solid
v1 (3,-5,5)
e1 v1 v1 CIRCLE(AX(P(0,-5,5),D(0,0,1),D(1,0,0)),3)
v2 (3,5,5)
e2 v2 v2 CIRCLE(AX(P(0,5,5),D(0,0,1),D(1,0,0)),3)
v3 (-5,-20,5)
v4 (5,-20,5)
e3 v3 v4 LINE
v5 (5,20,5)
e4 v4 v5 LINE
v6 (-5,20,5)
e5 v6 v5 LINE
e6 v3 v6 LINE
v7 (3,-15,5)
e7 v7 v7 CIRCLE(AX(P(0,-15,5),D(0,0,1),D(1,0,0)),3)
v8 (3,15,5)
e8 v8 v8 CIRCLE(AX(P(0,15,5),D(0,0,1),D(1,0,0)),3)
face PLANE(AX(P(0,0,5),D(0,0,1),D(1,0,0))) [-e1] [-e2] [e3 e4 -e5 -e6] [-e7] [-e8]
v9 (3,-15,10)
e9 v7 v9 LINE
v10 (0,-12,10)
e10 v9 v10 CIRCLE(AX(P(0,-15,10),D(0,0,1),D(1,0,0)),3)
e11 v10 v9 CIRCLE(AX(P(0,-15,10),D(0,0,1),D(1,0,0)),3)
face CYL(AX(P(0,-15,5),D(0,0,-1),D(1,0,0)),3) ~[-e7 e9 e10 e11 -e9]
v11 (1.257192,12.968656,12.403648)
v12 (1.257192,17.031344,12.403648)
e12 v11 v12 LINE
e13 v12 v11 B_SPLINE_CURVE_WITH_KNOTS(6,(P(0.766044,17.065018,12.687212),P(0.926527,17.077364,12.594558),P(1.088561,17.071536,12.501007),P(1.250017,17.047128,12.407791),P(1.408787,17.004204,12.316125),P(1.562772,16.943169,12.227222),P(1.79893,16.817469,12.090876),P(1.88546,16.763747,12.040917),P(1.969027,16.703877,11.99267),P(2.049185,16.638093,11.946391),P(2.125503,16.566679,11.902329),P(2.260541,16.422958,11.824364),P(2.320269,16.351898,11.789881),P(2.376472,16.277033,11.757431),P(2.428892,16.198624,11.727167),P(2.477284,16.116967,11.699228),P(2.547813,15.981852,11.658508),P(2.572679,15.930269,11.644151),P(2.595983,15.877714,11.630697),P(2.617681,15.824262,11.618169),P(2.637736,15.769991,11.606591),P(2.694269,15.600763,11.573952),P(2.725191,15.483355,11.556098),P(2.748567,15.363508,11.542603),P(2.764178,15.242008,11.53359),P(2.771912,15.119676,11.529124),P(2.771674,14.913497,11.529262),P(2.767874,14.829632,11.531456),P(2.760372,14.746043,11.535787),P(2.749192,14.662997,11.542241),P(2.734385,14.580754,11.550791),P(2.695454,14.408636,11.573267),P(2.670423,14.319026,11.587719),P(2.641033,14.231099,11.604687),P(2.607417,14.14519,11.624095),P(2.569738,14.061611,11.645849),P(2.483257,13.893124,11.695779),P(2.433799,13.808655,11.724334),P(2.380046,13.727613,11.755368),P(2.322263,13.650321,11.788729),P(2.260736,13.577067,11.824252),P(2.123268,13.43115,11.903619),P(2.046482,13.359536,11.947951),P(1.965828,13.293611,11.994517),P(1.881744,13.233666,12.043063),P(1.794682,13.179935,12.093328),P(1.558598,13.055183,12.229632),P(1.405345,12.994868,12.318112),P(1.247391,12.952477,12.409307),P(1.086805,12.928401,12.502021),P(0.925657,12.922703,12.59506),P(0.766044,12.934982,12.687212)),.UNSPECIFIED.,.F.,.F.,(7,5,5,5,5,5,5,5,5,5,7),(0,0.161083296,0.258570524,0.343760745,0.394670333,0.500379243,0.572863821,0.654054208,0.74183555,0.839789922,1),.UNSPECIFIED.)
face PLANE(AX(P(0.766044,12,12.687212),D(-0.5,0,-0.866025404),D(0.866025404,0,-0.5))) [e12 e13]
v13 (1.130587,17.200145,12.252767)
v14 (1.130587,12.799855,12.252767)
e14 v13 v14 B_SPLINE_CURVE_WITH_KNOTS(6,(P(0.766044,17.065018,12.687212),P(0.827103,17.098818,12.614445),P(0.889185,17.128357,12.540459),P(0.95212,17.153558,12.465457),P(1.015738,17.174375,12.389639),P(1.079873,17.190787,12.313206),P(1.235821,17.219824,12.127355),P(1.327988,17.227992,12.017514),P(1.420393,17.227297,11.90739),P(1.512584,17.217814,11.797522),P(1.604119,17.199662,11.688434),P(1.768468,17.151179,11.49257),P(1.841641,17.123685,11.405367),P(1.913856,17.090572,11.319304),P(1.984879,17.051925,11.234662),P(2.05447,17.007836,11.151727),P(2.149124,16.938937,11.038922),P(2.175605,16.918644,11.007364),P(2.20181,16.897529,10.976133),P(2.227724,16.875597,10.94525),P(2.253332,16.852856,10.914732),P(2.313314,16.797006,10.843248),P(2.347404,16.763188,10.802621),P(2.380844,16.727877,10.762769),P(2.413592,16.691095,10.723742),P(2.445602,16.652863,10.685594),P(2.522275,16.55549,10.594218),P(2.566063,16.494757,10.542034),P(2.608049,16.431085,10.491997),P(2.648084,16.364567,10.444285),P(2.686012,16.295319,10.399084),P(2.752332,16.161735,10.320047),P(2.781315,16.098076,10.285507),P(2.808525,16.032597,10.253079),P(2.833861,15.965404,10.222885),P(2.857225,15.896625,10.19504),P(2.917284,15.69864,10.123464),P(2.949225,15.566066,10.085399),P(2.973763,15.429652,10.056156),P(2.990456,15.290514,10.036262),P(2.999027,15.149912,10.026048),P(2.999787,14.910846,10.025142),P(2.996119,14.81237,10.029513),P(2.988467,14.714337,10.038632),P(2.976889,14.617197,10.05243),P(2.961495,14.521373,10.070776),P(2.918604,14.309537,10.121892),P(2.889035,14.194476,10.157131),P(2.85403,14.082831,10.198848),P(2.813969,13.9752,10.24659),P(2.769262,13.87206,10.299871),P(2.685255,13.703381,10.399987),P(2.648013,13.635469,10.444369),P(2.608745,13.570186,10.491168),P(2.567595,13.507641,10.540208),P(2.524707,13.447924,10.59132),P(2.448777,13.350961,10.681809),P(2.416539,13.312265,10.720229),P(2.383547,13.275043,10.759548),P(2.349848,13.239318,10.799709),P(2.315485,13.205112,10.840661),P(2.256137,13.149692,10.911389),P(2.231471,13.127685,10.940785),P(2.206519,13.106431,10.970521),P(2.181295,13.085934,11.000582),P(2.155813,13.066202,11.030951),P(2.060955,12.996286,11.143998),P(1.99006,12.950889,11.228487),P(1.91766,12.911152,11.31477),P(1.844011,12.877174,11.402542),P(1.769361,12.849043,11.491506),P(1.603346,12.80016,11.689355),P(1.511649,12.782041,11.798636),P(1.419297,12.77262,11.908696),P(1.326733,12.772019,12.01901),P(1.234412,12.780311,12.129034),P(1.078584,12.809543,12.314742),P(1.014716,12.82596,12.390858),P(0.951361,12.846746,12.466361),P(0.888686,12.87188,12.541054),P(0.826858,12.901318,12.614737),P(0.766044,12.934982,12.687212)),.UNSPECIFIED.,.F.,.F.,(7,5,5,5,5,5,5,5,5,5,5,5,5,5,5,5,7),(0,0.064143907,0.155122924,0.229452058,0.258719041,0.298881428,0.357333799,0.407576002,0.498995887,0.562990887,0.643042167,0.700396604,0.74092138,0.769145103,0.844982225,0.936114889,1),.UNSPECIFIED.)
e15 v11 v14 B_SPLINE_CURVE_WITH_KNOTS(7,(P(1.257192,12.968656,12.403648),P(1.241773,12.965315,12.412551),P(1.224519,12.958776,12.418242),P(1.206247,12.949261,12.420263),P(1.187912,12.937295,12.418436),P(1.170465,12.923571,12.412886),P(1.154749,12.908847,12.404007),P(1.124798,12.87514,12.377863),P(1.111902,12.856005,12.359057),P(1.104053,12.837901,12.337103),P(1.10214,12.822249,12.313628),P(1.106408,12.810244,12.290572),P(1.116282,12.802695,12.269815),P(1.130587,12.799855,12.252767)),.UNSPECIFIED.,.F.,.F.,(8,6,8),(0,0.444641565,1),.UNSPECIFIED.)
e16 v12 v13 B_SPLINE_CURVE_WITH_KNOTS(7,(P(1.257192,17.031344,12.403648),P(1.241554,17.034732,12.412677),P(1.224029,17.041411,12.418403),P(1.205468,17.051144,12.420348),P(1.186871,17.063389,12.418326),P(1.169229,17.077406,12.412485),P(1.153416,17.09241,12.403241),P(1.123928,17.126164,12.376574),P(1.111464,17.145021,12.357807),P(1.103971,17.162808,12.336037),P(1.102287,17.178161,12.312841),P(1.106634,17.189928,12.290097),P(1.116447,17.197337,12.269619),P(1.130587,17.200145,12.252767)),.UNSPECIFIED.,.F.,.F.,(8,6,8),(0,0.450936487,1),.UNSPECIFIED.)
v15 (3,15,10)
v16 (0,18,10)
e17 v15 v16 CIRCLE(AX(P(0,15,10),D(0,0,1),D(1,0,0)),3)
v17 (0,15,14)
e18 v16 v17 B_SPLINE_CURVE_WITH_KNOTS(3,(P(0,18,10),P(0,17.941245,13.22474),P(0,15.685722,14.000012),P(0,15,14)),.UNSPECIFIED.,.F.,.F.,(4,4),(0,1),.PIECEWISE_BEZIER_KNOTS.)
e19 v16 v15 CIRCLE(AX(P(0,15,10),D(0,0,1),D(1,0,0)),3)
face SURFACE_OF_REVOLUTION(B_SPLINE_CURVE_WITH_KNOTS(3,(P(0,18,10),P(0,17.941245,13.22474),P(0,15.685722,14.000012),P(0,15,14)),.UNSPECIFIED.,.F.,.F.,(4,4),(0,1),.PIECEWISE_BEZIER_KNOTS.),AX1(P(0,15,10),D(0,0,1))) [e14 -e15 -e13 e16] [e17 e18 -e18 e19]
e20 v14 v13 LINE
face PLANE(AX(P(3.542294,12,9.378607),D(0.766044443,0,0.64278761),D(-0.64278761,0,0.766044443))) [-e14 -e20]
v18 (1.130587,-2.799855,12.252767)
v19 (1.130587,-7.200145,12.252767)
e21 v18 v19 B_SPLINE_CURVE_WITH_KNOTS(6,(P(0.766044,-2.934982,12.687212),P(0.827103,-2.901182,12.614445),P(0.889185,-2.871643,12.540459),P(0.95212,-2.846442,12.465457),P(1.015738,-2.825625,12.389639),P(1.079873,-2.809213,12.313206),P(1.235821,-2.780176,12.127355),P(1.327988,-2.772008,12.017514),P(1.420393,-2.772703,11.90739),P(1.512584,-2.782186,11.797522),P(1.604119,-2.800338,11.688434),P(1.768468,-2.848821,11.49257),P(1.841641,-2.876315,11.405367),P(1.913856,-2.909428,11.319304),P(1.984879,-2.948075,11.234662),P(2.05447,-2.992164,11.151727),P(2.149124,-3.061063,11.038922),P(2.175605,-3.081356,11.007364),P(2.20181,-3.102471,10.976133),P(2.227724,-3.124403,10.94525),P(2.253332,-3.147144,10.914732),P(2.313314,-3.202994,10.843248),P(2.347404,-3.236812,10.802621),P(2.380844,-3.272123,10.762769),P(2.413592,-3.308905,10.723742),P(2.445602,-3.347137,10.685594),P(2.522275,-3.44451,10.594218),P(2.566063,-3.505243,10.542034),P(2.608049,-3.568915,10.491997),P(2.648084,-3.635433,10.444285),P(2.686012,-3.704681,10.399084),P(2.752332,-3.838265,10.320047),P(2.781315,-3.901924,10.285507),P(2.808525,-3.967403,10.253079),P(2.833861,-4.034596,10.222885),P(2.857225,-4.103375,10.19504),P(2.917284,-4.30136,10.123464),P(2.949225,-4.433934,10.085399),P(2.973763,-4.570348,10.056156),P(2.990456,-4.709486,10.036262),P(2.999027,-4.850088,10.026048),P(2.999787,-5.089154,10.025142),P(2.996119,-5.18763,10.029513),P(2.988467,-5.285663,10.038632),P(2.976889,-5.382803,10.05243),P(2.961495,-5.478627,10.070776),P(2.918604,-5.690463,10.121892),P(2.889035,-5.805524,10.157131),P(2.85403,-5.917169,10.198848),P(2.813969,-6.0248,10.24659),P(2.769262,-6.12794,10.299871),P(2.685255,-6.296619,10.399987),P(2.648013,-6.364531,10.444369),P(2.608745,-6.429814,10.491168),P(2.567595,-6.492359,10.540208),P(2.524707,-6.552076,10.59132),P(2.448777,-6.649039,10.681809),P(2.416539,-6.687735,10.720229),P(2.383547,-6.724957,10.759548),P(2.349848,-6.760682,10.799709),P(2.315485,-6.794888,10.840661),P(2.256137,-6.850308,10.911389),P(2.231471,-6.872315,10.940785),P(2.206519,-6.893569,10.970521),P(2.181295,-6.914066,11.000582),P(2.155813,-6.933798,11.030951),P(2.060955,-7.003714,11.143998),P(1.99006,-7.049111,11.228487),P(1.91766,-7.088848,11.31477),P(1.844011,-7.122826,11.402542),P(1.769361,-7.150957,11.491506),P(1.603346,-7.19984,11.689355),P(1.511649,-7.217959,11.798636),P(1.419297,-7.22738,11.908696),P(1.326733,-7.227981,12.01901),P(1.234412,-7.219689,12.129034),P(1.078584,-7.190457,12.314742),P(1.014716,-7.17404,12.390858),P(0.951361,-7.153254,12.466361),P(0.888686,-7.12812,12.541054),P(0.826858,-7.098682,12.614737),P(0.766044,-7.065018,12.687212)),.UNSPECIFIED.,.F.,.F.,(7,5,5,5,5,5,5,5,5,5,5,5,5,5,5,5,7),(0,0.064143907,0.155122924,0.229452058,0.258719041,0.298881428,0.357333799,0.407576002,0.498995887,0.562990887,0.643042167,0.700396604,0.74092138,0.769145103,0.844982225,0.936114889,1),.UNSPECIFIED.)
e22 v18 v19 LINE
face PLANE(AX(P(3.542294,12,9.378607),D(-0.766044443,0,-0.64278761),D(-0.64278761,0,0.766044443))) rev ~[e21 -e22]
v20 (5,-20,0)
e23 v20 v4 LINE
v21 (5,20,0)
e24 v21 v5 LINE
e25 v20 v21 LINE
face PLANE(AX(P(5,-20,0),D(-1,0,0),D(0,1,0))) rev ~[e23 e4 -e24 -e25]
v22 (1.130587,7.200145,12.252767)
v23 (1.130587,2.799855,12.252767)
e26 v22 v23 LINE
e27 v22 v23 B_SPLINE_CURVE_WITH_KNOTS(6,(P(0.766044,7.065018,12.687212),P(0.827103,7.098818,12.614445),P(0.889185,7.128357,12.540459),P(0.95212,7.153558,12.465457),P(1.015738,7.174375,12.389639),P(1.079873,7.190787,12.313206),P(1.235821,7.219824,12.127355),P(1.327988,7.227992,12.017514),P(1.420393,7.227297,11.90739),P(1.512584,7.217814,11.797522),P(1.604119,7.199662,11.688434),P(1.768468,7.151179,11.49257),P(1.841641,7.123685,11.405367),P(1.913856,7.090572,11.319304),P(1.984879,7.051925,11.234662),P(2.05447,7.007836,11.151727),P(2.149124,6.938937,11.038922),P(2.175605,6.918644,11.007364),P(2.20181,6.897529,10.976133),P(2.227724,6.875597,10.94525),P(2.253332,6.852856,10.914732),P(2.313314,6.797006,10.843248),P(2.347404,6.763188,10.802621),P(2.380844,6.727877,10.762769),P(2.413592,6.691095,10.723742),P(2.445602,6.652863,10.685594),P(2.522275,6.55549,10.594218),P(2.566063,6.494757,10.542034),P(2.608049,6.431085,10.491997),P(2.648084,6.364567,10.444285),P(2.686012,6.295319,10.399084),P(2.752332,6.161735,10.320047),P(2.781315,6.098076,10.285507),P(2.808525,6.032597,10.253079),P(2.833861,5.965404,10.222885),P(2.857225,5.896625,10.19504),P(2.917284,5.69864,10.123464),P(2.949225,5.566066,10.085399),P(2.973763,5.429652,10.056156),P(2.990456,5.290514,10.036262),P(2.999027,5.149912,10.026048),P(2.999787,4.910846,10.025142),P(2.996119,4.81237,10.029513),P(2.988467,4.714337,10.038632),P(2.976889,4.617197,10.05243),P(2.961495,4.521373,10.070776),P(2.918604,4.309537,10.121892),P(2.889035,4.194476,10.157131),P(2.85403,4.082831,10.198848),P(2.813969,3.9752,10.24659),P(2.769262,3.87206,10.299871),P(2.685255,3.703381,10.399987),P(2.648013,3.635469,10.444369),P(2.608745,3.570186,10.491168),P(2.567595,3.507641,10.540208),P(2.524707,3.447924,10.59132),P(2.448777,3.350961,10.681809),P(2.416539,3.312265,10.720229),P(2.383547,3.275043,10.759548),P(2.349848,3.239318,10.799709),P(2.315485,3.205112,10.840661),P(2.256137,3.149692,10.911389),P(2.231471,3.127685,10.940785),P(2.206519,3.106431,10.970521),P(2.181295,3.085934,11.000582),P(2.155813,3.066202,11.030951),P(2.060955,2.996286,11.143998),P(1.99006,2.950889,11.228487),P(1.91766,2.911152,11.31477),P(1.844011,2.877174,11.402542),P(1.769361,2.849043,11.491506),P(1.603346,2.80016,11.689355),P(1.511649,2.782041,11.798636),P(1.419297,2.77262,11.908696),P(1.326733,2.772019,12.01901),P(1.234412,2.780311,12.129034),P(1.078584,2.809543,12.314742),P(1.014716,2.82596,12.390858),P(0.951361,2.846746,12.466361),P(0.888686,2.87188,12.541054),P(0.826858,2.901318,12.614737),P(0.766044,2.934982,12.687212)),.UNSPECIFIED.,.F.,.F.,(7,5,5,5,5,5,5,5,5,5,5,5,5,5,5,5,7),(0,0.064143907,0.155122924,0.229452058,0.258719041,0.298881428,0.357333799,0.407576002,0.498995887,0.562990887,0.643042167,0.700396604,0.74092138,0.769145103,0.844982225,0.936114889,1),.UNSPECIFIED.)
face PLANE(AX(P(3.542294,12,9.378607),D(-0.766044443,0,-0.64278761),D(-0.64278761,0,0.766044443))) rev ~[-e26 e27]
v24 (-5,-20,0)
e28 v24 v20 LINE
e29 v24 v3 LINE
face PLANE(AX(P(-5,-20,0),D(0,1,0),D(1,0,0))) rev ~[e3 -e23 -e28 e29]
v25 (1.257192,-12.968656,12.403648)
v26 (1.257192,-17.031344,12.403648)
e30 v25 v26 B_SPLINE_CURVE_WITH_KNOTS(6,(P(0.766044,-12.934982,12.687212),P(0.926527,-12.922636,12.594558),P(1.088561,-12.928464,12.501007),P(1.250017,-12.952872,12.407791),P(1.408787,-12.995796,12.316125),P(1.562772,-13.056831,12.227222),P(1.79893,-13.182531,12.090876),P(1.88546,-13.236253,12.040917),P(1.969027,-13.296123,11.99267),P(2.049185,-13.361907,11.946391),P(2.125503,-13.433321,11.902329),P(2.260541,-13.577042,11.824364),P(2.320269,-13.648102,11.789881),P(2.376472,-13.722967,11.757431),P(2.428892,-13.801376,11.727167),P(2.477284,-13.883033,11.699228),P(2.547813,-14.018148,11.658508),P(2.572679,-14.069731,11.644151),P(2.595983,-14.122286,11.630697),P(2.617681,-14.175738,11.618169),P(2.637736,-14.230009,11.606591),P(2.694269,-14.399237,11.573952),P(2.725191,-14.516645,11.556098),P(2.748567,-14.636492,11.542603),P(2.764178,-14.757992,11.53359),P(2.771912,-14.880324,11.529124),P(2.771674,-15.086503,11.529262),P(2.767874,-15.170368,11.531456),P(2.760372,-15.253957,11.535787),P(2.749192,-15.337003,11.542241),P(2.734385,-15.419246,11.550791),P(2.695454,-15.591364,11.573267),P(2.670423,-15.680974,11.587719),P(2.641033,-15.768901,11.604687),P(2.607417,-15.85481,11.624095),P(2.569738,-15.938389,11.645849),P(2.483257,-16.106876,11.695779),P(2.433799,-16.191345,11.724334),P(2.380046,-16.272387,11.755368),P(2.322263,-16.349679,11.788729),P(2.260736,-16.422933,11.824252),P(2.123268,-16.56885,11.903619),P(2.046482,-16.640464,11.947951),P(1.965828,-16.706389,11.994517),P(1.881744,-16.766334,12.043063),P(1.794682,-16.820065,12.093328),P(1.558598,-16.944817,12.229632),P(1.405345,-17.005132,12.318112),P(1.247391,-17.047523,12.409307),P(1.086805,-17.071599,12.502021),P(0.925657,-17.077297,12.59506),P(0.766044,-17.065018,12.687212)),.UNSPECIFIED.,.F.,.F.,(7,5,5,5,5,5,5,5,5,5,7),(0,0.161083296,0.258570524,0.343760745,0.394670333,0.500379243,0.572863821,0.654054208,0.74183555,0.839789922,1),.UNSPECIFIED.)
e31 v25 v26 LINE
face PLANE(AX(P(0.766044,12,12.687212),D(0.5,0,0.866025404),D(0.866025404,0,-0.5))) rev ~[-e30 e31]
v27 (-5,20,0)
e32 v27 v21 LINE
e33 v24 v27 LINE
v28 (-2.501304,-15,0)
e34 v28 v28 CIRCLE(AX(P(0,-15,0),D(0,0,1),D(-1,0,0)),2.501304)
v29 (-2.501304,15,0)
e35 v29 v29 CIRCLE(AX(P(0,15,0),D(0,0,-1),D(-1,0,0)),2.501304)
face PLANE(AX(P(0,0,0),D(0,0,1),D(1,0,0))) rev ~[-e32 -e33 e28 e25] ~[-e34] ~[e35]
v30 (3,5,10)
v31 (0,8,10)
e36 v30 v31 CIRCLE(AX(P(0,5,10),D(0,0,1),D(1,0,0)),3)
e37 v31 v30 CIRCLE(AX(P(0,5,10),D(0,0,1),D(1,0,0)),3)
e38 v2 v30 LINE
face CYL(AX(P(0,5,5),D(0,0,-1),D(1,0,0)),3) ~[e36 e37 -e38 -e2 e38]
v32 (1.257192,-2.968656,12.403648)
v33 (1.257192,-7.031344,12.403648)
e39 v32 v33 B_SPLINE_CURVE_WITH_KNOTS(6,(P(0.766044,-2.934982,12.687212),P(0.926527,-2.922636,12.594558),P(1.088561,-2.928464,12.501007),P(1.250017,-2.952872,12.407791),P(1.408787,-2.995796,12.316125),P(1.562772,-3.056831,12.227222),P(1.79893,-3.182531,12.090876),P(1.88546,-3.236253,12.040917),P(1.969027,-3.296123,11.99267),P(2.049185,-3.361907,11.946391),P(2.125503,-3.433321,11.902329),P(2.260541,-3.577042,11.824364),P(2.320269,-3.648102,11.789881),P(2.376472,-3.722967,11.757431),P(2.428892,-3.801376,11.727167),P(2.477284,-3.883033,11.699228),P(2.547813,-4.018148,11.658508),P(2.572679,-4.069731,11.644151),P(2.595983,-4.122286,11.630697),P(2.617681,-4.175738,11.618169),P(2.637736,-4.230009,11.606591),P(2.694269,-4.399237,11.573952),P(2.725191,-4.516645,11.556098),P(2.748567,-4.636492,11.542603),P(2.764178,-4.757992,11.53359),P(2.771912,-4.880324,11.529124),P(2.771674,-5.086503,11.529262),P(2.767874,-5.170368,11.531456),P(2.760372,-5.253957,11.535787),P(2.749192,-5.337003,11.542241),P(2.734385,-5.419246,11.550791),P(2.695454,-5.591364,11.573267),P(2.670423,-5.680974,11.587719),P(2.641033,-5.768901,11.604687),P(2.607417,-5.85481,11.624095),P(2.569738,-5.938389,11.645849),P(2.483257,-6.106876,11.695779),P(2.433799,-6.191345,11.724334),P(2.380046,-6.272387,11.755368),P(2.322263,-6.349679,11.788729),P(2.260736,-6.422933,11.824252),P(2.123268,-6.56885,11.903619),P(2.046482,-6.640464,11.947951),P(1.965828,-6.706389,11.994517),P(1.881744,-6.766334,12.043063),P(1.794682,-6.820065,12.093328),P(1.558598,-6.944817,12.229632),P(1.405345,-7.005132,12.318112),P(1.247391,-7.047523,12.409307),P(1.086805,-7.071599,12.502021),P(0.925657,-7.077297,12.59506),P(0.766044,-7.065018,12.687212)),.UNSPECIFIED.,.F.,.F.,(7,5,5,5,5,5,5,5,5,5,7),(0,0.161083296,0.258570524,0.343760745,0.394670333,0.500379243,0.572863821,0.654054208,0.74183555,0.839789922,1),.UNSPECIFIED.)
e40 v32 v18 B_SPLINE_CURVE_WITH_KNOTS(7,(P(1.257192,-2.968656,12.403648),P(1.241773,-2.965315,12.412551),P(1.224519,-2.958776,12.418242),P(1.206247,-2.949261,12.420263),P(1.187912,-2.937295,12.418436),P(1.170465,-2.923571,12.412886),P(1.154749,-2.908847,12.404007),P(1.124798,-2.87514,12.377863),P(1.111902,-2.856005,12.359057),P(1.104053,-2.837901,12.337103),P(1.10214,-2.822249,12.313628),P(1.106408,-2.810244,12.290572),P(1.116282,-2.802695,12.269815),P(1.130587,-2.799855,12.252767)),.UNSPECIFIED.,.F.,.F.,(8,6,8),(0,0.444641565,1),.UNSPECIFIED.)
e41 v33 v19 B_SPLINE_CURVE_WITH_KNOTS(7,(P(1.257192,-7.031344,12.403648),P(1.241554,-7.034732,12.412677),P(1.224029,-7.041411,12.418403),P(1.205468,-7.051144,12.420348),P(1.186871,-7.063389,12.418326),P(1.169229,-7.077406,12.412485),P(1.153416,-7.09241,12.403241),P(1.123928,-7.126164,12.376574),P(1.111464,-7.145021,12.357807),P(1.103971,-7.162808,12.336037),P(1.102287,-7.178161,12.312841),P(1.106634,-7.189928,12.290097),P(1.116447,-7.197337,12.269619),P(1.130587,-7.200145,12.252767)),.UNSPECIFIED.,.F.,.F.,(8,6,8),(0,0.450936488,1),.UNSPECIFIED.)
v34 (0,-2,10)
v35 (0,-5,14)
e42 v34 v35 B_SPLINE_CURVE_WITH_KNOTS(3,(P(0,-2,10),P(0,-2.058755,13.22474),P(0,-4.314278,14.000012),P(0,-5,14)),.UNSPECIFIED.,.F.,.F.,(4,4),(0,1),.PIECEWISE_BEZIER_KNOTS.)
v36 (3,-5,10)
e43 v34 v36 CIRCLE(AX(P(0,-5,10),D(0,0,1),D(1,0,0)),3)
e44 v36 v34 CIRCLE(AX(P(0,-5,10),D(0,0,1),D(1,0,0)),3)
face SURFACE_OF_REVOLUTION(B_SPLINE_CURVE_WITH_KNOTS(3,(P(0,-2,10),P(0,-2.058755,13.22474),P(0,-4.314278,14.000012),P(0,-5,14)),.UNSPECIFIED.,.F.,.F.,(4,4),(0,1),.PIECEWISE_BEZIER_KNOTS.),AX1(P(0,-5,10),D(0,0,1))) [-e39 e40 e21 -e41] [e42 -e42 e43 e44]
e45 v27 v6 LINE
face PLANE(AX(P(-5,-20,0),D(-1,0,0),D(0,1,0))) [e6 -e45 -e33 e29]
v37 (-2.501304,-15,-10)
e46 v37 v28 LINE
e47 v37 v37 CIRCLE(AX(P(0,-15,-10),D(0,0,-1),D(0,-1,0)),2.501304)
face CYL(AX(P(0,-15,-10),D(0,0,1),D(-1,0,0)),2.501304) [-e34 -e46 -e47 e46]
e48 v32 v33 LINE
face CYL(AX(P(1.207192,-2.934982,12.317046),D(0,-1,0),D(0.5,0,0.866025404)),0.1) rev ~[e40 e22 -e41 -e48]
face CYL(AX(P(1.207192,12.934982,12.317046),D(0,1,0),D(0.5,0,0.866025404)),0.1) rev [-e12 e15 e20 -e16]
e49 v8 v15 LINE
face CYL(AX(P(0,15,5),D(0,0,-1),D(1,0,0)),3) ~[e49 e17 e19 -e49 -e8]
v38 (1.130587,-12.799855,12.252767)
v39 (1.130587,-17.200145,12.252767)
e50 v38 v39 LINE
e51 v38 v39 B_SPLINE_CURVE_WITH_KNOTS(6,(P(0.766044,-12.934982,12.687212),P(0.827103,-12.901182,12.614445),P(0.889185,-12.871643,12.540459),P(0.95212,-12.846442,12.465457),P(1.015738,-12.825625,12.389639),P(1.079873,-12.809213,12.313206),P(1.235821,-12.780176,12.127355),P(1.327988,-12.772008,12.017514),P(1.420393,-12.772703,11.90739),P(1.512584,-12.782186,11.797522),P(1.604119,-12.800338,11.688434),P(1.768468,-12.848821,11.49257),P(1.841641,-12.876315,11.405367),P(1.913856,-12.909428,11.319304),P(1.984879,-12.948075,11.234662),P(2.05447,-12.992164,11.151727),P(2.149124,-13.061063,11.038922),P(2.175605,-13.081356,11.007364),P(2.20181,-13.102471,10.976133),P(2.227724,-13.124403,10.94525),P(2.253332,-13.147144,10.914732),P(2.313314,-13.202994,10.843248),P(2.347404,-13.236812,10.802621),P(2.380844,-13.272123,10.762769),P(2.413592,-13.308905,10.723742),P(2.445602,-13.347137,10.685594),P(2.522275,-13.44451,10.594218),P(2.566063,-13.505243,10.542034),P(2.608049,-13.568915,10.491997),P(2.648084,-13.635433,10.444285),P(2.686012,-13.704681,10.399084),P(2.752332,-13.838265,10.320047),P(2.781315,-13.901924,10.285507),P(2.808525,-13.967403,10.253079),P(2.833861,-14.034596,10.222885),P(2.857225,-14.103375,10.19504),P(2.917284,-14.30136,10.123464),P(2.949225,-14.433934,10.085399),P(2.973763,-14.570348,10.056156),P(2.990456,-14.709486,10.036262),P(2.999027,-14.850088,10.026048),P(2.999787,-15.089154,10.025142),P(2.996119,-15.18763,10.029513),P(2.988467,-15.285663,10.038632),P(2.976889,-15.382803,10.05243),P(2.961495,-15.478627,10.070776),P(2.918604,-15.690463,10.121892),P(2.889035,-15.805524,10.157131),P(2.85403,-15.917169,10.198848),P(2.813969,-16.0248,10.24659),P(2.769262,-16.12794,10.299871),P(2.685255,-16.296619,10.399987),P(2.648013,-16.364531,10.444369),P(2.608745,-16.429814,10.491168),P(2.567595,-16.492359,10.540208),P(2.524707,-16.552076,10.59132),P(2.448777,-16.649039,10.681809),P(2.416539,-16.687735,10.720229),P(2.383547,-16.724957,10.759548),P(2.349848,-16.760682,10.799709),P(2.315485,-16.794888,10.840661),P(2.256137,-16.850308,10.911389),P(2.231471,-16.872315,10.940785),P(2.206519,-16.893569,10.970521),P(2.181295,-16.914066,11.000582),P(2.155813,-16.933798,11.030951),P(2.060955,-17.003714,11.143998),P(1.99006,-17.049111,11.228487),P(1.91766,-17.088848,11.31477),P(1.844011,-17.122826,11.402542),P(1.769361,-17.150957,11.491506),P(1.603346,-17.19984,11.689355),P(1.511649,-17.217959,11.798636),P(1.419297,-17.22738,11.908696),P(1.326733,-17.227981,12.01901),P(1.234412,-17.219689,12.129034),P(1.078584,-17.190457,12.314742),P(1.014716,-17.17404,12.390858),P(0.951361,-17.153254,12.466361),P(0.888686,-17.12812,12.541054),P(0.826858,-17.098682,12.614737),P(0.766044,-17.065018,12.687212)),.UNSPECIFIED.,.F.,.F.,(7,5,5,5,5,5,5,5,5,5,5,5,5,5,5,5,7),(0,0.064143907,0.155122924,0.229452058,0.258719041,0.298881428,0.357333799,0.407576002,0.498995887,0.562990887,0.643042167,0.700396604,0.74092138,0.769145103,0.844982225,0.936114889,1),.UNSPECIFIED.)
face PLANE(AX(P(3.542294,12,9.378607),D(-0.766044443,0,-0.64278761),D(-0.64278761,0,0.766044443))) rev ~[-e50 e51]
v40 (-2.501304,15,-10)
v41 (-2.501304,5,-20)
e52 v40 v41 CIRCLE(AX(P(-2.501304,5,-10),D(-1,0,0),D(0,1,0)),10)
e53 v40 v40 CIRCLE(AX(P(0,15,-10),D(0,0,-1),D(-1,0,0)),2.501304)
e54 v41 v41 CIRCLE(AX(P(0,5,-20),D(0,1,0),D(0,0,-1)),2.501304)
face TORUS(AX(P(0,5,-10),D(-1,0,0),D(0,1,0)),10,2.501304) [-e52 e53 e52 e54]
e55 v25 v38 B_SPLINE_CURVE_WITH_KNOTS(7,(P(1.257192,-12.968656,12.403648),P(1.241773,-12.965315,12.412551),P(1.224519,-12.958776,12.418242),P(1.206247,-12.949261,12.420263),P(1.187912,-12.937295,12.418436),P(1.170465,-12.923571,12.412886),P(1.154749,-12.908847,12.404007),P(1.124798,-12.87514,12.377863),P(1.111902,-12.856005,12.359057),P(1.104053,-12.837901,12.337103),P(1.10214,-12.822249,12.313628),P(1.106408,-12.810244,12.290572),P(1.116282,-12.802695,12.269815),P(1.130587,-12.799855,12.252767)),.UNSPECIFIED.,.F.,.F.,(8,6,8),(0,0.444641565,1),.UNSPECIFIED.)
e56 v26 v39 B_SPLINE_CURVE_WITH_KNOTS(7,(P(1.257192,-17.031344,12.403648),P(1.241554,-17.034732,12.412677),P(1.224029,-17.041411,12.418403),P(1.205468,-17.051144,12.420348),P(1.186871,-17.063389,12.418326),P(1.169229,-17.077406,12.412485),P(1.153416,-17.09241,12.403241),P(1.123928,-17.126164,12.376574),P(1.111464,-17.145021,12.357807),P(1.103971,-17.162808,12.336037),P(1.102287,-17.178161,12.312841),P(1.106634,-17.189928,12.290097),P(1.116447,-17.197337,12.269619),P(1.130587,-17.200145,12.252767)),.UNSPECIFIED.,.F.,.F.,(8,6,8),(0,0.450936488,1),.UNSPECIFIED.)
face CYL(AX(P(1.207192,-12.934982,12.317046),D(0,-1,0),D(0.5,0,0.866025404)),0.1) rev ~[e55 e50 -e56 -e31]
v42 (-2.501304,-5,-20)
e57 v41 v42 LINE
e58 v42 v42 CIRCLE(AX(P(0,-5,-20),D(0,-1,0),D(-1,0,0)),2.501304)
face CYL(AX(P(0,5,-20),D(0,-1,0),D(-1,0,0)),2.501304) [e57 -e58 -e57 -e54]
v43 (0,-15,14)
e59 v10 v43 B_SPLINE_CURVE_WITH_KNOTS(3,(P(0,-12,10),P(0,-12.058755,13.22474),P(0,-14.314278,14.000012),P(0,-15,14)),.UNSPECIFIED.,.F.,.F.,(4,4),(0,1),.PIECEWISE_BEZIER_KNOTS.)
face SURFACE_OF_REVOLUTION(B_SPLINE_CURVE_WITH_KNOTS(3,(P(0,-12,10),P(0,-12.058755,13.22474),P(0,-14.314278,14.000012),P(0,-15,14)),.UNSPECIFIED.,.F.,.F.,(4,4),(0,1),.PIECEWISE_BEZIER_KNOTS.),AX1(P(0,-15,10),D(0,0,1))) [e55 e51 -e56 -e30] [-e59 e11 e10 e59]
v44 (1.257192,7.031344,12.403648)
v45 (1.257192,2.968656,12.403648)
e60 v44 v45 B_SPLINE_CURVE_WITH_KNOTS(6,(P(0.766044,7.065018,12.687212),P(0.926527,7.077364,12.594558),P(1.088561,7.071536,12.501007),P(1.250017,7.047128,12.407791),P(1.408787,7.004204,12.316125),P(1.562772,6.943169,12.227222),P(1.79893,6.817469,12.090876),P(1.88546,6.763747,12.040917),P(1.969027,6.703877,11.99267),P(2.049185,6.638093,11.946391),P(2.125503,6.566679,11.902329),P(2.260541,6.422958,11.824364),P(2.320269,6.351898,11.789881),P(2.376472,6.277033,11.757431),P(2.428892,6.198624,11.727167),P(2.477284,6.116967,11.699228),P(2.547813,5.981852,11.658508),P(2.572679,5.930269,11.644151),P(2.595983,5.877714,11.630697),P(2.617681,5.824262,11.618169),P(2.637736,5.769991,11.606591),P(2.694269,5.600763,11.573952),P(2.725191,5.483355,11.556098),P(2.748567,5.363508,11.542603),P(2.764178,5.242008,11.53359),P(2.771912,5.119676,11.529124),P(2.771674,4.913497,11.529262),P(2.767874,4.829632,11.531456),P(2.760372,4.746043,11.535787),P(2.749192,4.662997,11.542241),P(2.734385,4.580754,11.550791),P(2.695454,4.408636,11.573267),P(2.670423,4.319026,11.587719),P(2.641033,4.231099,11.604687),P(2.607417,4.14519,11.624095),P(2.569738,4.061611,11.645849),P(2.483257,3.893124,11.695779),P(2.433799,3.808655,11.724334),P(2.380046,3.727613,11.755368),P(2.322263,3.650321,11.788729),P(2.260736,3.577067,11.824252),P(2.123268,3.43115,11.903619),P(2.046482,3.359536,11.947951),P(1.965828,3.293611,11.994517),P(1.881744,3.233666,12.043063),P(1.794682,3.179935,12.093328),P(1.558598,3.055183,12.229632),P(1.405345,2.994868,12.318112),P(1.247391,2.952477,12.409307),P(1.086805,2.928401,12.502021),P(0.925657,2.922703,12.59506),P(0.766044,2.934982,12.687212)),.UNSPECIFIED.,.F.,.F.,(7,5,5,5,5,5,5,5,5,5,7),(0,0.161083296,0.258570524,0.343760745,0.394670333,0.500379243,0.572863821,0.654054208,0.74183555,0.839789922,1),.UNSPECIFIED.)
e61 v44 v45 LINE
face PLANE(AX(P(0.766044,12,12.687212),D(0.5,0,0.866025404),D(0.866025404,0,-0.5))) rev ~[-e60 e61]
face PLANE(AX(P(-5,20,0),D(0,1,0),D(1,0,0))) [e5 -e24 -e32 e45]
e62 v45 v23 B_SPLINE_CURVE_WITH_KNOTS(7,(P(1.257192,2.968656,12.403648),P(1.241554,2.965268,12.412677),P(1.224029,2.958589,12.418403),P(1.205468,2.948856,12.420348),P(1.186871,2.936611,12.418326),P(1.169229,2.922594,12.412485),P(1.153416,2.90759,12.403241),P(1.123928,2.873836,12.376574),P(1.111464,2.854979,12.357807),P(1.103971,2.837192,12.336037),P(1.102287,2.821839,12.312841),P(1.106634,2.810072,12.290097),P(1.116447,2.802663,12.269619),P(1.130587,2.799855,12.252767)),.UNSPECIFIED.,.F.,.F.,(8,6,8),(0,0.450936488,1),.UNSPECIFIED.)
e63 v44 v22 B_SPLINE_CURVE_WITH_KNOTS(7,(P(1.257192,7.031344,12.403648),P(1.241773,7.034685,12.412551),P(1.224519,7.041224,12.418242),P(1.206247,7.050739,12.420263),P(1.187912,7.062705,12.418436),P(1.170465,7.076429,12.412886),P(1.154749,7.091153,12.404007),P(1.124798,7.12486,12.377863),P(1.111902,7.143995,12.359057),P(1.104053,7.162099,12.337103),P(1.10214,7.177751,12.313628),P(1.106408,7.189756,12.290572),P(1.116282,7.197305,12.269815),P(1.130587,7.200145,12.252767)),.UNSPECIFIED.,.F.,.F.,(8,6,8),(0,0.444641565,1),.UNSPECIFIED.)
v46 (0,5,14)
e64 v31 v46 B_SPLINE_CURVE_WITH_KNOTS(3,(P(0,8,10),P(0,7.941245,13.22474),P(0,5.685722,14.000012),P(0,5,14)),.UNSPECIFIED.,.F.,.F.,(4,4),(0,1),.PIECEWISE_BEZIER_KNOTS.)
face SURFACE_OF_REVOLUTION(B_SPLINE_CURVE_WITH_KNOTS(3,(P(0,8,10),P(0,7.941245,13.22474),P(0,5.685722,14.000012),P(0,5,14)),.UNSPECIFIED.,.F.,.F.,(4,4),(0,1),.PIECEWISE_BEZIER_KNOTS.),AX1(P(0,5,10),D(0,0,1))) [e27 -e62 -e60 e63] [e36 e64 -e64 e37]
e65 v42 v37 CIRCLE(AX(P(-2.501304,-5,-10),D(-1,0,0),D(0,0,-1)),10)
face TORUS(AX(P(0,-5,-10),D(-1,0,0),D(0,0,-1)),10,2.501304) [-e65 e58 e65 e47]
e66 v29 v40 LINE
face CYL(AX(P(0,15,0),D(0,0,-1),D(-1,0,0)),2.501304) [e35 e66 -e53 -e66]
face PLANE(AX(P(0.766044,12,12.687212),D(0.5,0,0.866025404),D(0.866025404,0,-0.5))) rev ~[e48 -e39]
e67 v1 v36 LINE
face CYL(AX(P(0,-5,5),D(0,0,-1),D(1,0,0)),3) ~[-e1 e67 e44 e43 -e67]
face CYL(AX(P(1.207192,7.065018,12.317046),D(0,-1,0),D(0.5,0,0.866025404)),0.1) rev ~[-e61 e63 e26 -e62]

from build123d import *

# Parameters (mm, degrees)
SKETCH1_W               = 10
SKETCH1_H               = 40
BOSS_EXTRUDE1_DEPTH     = 5
SKETCH2_R               = 2.501304298
SKETCH5_R               = 3
BOSS_EXTRUDE2_DEPTH     = 5
LPATTERN2_COUNT         = 4
LPATTERN2_PITCH         = 10
LPATTERN5_COUNT         = 4
LPATTERN5_PITCH         = 10
CUT_EXTRUDE2_DEPTH      = 33
CUT_EXTRUDE2_DEPTH_BACK = 9
FILLET4_R               = 0.1


with BuildPart() as part:
    # Sketch1 → Boss-Extrude1 (new body)
    with BuildSketch(Plane.XY):
        Rectangle(SKETCH1_W, SKETCH1_H)
    extrude(amount=BOSS_EXTRUDE1_DEPTH)

    # Sweep1: sweep along a path in Sketch3
    with BuildLine(Plane(origin=(0, 0, 0), x_dir=(0, 0, -1), z_dir=(1, 0, 0))) as sweep1_path:
        Line((0, 15), (10, 15))
        ThreePointArc((10, 15), (17.071067812, 12.071067812), (20, 5))
        Line((20, 5), (20, -5))
        ThreePointArc((20, -5), (17.071067812, -12.071067812), (10, -15))
        Line((10, -15), (0, -15))
    # Sketch2 → Sweep1 (sweep)
    with BuildSketch(Plane(origin=(0, 0, 0), x_dir=(-1, 0, 0), z_dir=(0, 0, -1))):
        with Locations((0, 15)):
            Circle(SKETCH2_R)
    sweep(path=sweep1_path.line)

    # Sketch5 → Boss-Extrude2 (add)
    with BuildSketch(Plane.XY.offset(5)):
        with Locations((0, 15)):
            Circle(SKETCH5_R)
    boss_extrude2 = extrude(amount=BOSS_EXTRUDE2_DEPTH)

    # Sketch9 → Revolve2 (revolve)
    with BuildSketch(Plane(origin=(0, 0, 0), x_dir=(0, 0, -1), z_dir=(1, 0, 0))):
        with BuildLine():
            Line((-10, 15), (-14, 15))
            add(Edge.make_bspline(
                [(-10, 18), (-13.224740058, 17.941244514), (-14.000011991, 15.685721652), (-14, 15)],
                knots=[0, 0, 0, 0, 1, 1, 1, 1], degree=3))
            Line((-10, 18), (-10, 15))
        make_face()
    revolve2 = revolve(axis=Axis((0, 15, 10), (0, 0, 1)))

    # LPattern2: Boss-Extrude2 ×4
    with Locations(*[(0, -i * LPATTERN2_PITCH, 0) for i in range(1, LPATTERN2_COUNT)]):
        add(boss_extrude2)

    # LPattern5: Revolve2 ×4
    with Locations(*[(0, -i * LPATTERN5_PITCH, 0) for i in range(1, LPATTERN5_COUNT)]):
        add(revolve2)

    # Sketch12 → Cut-Extrude2 (cut, two sides)
    with BuildSketch(Plane(origin=(0, 12, 0), x_dir=(-1, 0, 0), z_dir=(0, -1, 0))) as cut_extrude2_sk:
        Polygon((-0.766044443, -12.68721239), (-4.506475593, -10.527673459), (-3.542294178, -9.378606794), align=None)
    extrude(amount=CUT_EXTRUDE2_DEPTH, mode=Mode.SUBTRACT)
    extrude(cut_extrude2_sk.sketch, amount=-CUT_EXTRUDE2_DEPTH_BACK, mode=Mode.SUBTRACT)

    # Fillet4
    fillet4_edges = [part.edges().sort_by_distance(p)[0] for p in [
        (0.766044443, 15, 12.68721239),
        (0.766044443, 5, 12.68721239),
        (0.766044443, -5, 12.68721239),
        (0.766044443, -15, 12.68721239),
    ]]
    fillet(fillet4_edges, radius=FILLET4_R)


solid = part.part
